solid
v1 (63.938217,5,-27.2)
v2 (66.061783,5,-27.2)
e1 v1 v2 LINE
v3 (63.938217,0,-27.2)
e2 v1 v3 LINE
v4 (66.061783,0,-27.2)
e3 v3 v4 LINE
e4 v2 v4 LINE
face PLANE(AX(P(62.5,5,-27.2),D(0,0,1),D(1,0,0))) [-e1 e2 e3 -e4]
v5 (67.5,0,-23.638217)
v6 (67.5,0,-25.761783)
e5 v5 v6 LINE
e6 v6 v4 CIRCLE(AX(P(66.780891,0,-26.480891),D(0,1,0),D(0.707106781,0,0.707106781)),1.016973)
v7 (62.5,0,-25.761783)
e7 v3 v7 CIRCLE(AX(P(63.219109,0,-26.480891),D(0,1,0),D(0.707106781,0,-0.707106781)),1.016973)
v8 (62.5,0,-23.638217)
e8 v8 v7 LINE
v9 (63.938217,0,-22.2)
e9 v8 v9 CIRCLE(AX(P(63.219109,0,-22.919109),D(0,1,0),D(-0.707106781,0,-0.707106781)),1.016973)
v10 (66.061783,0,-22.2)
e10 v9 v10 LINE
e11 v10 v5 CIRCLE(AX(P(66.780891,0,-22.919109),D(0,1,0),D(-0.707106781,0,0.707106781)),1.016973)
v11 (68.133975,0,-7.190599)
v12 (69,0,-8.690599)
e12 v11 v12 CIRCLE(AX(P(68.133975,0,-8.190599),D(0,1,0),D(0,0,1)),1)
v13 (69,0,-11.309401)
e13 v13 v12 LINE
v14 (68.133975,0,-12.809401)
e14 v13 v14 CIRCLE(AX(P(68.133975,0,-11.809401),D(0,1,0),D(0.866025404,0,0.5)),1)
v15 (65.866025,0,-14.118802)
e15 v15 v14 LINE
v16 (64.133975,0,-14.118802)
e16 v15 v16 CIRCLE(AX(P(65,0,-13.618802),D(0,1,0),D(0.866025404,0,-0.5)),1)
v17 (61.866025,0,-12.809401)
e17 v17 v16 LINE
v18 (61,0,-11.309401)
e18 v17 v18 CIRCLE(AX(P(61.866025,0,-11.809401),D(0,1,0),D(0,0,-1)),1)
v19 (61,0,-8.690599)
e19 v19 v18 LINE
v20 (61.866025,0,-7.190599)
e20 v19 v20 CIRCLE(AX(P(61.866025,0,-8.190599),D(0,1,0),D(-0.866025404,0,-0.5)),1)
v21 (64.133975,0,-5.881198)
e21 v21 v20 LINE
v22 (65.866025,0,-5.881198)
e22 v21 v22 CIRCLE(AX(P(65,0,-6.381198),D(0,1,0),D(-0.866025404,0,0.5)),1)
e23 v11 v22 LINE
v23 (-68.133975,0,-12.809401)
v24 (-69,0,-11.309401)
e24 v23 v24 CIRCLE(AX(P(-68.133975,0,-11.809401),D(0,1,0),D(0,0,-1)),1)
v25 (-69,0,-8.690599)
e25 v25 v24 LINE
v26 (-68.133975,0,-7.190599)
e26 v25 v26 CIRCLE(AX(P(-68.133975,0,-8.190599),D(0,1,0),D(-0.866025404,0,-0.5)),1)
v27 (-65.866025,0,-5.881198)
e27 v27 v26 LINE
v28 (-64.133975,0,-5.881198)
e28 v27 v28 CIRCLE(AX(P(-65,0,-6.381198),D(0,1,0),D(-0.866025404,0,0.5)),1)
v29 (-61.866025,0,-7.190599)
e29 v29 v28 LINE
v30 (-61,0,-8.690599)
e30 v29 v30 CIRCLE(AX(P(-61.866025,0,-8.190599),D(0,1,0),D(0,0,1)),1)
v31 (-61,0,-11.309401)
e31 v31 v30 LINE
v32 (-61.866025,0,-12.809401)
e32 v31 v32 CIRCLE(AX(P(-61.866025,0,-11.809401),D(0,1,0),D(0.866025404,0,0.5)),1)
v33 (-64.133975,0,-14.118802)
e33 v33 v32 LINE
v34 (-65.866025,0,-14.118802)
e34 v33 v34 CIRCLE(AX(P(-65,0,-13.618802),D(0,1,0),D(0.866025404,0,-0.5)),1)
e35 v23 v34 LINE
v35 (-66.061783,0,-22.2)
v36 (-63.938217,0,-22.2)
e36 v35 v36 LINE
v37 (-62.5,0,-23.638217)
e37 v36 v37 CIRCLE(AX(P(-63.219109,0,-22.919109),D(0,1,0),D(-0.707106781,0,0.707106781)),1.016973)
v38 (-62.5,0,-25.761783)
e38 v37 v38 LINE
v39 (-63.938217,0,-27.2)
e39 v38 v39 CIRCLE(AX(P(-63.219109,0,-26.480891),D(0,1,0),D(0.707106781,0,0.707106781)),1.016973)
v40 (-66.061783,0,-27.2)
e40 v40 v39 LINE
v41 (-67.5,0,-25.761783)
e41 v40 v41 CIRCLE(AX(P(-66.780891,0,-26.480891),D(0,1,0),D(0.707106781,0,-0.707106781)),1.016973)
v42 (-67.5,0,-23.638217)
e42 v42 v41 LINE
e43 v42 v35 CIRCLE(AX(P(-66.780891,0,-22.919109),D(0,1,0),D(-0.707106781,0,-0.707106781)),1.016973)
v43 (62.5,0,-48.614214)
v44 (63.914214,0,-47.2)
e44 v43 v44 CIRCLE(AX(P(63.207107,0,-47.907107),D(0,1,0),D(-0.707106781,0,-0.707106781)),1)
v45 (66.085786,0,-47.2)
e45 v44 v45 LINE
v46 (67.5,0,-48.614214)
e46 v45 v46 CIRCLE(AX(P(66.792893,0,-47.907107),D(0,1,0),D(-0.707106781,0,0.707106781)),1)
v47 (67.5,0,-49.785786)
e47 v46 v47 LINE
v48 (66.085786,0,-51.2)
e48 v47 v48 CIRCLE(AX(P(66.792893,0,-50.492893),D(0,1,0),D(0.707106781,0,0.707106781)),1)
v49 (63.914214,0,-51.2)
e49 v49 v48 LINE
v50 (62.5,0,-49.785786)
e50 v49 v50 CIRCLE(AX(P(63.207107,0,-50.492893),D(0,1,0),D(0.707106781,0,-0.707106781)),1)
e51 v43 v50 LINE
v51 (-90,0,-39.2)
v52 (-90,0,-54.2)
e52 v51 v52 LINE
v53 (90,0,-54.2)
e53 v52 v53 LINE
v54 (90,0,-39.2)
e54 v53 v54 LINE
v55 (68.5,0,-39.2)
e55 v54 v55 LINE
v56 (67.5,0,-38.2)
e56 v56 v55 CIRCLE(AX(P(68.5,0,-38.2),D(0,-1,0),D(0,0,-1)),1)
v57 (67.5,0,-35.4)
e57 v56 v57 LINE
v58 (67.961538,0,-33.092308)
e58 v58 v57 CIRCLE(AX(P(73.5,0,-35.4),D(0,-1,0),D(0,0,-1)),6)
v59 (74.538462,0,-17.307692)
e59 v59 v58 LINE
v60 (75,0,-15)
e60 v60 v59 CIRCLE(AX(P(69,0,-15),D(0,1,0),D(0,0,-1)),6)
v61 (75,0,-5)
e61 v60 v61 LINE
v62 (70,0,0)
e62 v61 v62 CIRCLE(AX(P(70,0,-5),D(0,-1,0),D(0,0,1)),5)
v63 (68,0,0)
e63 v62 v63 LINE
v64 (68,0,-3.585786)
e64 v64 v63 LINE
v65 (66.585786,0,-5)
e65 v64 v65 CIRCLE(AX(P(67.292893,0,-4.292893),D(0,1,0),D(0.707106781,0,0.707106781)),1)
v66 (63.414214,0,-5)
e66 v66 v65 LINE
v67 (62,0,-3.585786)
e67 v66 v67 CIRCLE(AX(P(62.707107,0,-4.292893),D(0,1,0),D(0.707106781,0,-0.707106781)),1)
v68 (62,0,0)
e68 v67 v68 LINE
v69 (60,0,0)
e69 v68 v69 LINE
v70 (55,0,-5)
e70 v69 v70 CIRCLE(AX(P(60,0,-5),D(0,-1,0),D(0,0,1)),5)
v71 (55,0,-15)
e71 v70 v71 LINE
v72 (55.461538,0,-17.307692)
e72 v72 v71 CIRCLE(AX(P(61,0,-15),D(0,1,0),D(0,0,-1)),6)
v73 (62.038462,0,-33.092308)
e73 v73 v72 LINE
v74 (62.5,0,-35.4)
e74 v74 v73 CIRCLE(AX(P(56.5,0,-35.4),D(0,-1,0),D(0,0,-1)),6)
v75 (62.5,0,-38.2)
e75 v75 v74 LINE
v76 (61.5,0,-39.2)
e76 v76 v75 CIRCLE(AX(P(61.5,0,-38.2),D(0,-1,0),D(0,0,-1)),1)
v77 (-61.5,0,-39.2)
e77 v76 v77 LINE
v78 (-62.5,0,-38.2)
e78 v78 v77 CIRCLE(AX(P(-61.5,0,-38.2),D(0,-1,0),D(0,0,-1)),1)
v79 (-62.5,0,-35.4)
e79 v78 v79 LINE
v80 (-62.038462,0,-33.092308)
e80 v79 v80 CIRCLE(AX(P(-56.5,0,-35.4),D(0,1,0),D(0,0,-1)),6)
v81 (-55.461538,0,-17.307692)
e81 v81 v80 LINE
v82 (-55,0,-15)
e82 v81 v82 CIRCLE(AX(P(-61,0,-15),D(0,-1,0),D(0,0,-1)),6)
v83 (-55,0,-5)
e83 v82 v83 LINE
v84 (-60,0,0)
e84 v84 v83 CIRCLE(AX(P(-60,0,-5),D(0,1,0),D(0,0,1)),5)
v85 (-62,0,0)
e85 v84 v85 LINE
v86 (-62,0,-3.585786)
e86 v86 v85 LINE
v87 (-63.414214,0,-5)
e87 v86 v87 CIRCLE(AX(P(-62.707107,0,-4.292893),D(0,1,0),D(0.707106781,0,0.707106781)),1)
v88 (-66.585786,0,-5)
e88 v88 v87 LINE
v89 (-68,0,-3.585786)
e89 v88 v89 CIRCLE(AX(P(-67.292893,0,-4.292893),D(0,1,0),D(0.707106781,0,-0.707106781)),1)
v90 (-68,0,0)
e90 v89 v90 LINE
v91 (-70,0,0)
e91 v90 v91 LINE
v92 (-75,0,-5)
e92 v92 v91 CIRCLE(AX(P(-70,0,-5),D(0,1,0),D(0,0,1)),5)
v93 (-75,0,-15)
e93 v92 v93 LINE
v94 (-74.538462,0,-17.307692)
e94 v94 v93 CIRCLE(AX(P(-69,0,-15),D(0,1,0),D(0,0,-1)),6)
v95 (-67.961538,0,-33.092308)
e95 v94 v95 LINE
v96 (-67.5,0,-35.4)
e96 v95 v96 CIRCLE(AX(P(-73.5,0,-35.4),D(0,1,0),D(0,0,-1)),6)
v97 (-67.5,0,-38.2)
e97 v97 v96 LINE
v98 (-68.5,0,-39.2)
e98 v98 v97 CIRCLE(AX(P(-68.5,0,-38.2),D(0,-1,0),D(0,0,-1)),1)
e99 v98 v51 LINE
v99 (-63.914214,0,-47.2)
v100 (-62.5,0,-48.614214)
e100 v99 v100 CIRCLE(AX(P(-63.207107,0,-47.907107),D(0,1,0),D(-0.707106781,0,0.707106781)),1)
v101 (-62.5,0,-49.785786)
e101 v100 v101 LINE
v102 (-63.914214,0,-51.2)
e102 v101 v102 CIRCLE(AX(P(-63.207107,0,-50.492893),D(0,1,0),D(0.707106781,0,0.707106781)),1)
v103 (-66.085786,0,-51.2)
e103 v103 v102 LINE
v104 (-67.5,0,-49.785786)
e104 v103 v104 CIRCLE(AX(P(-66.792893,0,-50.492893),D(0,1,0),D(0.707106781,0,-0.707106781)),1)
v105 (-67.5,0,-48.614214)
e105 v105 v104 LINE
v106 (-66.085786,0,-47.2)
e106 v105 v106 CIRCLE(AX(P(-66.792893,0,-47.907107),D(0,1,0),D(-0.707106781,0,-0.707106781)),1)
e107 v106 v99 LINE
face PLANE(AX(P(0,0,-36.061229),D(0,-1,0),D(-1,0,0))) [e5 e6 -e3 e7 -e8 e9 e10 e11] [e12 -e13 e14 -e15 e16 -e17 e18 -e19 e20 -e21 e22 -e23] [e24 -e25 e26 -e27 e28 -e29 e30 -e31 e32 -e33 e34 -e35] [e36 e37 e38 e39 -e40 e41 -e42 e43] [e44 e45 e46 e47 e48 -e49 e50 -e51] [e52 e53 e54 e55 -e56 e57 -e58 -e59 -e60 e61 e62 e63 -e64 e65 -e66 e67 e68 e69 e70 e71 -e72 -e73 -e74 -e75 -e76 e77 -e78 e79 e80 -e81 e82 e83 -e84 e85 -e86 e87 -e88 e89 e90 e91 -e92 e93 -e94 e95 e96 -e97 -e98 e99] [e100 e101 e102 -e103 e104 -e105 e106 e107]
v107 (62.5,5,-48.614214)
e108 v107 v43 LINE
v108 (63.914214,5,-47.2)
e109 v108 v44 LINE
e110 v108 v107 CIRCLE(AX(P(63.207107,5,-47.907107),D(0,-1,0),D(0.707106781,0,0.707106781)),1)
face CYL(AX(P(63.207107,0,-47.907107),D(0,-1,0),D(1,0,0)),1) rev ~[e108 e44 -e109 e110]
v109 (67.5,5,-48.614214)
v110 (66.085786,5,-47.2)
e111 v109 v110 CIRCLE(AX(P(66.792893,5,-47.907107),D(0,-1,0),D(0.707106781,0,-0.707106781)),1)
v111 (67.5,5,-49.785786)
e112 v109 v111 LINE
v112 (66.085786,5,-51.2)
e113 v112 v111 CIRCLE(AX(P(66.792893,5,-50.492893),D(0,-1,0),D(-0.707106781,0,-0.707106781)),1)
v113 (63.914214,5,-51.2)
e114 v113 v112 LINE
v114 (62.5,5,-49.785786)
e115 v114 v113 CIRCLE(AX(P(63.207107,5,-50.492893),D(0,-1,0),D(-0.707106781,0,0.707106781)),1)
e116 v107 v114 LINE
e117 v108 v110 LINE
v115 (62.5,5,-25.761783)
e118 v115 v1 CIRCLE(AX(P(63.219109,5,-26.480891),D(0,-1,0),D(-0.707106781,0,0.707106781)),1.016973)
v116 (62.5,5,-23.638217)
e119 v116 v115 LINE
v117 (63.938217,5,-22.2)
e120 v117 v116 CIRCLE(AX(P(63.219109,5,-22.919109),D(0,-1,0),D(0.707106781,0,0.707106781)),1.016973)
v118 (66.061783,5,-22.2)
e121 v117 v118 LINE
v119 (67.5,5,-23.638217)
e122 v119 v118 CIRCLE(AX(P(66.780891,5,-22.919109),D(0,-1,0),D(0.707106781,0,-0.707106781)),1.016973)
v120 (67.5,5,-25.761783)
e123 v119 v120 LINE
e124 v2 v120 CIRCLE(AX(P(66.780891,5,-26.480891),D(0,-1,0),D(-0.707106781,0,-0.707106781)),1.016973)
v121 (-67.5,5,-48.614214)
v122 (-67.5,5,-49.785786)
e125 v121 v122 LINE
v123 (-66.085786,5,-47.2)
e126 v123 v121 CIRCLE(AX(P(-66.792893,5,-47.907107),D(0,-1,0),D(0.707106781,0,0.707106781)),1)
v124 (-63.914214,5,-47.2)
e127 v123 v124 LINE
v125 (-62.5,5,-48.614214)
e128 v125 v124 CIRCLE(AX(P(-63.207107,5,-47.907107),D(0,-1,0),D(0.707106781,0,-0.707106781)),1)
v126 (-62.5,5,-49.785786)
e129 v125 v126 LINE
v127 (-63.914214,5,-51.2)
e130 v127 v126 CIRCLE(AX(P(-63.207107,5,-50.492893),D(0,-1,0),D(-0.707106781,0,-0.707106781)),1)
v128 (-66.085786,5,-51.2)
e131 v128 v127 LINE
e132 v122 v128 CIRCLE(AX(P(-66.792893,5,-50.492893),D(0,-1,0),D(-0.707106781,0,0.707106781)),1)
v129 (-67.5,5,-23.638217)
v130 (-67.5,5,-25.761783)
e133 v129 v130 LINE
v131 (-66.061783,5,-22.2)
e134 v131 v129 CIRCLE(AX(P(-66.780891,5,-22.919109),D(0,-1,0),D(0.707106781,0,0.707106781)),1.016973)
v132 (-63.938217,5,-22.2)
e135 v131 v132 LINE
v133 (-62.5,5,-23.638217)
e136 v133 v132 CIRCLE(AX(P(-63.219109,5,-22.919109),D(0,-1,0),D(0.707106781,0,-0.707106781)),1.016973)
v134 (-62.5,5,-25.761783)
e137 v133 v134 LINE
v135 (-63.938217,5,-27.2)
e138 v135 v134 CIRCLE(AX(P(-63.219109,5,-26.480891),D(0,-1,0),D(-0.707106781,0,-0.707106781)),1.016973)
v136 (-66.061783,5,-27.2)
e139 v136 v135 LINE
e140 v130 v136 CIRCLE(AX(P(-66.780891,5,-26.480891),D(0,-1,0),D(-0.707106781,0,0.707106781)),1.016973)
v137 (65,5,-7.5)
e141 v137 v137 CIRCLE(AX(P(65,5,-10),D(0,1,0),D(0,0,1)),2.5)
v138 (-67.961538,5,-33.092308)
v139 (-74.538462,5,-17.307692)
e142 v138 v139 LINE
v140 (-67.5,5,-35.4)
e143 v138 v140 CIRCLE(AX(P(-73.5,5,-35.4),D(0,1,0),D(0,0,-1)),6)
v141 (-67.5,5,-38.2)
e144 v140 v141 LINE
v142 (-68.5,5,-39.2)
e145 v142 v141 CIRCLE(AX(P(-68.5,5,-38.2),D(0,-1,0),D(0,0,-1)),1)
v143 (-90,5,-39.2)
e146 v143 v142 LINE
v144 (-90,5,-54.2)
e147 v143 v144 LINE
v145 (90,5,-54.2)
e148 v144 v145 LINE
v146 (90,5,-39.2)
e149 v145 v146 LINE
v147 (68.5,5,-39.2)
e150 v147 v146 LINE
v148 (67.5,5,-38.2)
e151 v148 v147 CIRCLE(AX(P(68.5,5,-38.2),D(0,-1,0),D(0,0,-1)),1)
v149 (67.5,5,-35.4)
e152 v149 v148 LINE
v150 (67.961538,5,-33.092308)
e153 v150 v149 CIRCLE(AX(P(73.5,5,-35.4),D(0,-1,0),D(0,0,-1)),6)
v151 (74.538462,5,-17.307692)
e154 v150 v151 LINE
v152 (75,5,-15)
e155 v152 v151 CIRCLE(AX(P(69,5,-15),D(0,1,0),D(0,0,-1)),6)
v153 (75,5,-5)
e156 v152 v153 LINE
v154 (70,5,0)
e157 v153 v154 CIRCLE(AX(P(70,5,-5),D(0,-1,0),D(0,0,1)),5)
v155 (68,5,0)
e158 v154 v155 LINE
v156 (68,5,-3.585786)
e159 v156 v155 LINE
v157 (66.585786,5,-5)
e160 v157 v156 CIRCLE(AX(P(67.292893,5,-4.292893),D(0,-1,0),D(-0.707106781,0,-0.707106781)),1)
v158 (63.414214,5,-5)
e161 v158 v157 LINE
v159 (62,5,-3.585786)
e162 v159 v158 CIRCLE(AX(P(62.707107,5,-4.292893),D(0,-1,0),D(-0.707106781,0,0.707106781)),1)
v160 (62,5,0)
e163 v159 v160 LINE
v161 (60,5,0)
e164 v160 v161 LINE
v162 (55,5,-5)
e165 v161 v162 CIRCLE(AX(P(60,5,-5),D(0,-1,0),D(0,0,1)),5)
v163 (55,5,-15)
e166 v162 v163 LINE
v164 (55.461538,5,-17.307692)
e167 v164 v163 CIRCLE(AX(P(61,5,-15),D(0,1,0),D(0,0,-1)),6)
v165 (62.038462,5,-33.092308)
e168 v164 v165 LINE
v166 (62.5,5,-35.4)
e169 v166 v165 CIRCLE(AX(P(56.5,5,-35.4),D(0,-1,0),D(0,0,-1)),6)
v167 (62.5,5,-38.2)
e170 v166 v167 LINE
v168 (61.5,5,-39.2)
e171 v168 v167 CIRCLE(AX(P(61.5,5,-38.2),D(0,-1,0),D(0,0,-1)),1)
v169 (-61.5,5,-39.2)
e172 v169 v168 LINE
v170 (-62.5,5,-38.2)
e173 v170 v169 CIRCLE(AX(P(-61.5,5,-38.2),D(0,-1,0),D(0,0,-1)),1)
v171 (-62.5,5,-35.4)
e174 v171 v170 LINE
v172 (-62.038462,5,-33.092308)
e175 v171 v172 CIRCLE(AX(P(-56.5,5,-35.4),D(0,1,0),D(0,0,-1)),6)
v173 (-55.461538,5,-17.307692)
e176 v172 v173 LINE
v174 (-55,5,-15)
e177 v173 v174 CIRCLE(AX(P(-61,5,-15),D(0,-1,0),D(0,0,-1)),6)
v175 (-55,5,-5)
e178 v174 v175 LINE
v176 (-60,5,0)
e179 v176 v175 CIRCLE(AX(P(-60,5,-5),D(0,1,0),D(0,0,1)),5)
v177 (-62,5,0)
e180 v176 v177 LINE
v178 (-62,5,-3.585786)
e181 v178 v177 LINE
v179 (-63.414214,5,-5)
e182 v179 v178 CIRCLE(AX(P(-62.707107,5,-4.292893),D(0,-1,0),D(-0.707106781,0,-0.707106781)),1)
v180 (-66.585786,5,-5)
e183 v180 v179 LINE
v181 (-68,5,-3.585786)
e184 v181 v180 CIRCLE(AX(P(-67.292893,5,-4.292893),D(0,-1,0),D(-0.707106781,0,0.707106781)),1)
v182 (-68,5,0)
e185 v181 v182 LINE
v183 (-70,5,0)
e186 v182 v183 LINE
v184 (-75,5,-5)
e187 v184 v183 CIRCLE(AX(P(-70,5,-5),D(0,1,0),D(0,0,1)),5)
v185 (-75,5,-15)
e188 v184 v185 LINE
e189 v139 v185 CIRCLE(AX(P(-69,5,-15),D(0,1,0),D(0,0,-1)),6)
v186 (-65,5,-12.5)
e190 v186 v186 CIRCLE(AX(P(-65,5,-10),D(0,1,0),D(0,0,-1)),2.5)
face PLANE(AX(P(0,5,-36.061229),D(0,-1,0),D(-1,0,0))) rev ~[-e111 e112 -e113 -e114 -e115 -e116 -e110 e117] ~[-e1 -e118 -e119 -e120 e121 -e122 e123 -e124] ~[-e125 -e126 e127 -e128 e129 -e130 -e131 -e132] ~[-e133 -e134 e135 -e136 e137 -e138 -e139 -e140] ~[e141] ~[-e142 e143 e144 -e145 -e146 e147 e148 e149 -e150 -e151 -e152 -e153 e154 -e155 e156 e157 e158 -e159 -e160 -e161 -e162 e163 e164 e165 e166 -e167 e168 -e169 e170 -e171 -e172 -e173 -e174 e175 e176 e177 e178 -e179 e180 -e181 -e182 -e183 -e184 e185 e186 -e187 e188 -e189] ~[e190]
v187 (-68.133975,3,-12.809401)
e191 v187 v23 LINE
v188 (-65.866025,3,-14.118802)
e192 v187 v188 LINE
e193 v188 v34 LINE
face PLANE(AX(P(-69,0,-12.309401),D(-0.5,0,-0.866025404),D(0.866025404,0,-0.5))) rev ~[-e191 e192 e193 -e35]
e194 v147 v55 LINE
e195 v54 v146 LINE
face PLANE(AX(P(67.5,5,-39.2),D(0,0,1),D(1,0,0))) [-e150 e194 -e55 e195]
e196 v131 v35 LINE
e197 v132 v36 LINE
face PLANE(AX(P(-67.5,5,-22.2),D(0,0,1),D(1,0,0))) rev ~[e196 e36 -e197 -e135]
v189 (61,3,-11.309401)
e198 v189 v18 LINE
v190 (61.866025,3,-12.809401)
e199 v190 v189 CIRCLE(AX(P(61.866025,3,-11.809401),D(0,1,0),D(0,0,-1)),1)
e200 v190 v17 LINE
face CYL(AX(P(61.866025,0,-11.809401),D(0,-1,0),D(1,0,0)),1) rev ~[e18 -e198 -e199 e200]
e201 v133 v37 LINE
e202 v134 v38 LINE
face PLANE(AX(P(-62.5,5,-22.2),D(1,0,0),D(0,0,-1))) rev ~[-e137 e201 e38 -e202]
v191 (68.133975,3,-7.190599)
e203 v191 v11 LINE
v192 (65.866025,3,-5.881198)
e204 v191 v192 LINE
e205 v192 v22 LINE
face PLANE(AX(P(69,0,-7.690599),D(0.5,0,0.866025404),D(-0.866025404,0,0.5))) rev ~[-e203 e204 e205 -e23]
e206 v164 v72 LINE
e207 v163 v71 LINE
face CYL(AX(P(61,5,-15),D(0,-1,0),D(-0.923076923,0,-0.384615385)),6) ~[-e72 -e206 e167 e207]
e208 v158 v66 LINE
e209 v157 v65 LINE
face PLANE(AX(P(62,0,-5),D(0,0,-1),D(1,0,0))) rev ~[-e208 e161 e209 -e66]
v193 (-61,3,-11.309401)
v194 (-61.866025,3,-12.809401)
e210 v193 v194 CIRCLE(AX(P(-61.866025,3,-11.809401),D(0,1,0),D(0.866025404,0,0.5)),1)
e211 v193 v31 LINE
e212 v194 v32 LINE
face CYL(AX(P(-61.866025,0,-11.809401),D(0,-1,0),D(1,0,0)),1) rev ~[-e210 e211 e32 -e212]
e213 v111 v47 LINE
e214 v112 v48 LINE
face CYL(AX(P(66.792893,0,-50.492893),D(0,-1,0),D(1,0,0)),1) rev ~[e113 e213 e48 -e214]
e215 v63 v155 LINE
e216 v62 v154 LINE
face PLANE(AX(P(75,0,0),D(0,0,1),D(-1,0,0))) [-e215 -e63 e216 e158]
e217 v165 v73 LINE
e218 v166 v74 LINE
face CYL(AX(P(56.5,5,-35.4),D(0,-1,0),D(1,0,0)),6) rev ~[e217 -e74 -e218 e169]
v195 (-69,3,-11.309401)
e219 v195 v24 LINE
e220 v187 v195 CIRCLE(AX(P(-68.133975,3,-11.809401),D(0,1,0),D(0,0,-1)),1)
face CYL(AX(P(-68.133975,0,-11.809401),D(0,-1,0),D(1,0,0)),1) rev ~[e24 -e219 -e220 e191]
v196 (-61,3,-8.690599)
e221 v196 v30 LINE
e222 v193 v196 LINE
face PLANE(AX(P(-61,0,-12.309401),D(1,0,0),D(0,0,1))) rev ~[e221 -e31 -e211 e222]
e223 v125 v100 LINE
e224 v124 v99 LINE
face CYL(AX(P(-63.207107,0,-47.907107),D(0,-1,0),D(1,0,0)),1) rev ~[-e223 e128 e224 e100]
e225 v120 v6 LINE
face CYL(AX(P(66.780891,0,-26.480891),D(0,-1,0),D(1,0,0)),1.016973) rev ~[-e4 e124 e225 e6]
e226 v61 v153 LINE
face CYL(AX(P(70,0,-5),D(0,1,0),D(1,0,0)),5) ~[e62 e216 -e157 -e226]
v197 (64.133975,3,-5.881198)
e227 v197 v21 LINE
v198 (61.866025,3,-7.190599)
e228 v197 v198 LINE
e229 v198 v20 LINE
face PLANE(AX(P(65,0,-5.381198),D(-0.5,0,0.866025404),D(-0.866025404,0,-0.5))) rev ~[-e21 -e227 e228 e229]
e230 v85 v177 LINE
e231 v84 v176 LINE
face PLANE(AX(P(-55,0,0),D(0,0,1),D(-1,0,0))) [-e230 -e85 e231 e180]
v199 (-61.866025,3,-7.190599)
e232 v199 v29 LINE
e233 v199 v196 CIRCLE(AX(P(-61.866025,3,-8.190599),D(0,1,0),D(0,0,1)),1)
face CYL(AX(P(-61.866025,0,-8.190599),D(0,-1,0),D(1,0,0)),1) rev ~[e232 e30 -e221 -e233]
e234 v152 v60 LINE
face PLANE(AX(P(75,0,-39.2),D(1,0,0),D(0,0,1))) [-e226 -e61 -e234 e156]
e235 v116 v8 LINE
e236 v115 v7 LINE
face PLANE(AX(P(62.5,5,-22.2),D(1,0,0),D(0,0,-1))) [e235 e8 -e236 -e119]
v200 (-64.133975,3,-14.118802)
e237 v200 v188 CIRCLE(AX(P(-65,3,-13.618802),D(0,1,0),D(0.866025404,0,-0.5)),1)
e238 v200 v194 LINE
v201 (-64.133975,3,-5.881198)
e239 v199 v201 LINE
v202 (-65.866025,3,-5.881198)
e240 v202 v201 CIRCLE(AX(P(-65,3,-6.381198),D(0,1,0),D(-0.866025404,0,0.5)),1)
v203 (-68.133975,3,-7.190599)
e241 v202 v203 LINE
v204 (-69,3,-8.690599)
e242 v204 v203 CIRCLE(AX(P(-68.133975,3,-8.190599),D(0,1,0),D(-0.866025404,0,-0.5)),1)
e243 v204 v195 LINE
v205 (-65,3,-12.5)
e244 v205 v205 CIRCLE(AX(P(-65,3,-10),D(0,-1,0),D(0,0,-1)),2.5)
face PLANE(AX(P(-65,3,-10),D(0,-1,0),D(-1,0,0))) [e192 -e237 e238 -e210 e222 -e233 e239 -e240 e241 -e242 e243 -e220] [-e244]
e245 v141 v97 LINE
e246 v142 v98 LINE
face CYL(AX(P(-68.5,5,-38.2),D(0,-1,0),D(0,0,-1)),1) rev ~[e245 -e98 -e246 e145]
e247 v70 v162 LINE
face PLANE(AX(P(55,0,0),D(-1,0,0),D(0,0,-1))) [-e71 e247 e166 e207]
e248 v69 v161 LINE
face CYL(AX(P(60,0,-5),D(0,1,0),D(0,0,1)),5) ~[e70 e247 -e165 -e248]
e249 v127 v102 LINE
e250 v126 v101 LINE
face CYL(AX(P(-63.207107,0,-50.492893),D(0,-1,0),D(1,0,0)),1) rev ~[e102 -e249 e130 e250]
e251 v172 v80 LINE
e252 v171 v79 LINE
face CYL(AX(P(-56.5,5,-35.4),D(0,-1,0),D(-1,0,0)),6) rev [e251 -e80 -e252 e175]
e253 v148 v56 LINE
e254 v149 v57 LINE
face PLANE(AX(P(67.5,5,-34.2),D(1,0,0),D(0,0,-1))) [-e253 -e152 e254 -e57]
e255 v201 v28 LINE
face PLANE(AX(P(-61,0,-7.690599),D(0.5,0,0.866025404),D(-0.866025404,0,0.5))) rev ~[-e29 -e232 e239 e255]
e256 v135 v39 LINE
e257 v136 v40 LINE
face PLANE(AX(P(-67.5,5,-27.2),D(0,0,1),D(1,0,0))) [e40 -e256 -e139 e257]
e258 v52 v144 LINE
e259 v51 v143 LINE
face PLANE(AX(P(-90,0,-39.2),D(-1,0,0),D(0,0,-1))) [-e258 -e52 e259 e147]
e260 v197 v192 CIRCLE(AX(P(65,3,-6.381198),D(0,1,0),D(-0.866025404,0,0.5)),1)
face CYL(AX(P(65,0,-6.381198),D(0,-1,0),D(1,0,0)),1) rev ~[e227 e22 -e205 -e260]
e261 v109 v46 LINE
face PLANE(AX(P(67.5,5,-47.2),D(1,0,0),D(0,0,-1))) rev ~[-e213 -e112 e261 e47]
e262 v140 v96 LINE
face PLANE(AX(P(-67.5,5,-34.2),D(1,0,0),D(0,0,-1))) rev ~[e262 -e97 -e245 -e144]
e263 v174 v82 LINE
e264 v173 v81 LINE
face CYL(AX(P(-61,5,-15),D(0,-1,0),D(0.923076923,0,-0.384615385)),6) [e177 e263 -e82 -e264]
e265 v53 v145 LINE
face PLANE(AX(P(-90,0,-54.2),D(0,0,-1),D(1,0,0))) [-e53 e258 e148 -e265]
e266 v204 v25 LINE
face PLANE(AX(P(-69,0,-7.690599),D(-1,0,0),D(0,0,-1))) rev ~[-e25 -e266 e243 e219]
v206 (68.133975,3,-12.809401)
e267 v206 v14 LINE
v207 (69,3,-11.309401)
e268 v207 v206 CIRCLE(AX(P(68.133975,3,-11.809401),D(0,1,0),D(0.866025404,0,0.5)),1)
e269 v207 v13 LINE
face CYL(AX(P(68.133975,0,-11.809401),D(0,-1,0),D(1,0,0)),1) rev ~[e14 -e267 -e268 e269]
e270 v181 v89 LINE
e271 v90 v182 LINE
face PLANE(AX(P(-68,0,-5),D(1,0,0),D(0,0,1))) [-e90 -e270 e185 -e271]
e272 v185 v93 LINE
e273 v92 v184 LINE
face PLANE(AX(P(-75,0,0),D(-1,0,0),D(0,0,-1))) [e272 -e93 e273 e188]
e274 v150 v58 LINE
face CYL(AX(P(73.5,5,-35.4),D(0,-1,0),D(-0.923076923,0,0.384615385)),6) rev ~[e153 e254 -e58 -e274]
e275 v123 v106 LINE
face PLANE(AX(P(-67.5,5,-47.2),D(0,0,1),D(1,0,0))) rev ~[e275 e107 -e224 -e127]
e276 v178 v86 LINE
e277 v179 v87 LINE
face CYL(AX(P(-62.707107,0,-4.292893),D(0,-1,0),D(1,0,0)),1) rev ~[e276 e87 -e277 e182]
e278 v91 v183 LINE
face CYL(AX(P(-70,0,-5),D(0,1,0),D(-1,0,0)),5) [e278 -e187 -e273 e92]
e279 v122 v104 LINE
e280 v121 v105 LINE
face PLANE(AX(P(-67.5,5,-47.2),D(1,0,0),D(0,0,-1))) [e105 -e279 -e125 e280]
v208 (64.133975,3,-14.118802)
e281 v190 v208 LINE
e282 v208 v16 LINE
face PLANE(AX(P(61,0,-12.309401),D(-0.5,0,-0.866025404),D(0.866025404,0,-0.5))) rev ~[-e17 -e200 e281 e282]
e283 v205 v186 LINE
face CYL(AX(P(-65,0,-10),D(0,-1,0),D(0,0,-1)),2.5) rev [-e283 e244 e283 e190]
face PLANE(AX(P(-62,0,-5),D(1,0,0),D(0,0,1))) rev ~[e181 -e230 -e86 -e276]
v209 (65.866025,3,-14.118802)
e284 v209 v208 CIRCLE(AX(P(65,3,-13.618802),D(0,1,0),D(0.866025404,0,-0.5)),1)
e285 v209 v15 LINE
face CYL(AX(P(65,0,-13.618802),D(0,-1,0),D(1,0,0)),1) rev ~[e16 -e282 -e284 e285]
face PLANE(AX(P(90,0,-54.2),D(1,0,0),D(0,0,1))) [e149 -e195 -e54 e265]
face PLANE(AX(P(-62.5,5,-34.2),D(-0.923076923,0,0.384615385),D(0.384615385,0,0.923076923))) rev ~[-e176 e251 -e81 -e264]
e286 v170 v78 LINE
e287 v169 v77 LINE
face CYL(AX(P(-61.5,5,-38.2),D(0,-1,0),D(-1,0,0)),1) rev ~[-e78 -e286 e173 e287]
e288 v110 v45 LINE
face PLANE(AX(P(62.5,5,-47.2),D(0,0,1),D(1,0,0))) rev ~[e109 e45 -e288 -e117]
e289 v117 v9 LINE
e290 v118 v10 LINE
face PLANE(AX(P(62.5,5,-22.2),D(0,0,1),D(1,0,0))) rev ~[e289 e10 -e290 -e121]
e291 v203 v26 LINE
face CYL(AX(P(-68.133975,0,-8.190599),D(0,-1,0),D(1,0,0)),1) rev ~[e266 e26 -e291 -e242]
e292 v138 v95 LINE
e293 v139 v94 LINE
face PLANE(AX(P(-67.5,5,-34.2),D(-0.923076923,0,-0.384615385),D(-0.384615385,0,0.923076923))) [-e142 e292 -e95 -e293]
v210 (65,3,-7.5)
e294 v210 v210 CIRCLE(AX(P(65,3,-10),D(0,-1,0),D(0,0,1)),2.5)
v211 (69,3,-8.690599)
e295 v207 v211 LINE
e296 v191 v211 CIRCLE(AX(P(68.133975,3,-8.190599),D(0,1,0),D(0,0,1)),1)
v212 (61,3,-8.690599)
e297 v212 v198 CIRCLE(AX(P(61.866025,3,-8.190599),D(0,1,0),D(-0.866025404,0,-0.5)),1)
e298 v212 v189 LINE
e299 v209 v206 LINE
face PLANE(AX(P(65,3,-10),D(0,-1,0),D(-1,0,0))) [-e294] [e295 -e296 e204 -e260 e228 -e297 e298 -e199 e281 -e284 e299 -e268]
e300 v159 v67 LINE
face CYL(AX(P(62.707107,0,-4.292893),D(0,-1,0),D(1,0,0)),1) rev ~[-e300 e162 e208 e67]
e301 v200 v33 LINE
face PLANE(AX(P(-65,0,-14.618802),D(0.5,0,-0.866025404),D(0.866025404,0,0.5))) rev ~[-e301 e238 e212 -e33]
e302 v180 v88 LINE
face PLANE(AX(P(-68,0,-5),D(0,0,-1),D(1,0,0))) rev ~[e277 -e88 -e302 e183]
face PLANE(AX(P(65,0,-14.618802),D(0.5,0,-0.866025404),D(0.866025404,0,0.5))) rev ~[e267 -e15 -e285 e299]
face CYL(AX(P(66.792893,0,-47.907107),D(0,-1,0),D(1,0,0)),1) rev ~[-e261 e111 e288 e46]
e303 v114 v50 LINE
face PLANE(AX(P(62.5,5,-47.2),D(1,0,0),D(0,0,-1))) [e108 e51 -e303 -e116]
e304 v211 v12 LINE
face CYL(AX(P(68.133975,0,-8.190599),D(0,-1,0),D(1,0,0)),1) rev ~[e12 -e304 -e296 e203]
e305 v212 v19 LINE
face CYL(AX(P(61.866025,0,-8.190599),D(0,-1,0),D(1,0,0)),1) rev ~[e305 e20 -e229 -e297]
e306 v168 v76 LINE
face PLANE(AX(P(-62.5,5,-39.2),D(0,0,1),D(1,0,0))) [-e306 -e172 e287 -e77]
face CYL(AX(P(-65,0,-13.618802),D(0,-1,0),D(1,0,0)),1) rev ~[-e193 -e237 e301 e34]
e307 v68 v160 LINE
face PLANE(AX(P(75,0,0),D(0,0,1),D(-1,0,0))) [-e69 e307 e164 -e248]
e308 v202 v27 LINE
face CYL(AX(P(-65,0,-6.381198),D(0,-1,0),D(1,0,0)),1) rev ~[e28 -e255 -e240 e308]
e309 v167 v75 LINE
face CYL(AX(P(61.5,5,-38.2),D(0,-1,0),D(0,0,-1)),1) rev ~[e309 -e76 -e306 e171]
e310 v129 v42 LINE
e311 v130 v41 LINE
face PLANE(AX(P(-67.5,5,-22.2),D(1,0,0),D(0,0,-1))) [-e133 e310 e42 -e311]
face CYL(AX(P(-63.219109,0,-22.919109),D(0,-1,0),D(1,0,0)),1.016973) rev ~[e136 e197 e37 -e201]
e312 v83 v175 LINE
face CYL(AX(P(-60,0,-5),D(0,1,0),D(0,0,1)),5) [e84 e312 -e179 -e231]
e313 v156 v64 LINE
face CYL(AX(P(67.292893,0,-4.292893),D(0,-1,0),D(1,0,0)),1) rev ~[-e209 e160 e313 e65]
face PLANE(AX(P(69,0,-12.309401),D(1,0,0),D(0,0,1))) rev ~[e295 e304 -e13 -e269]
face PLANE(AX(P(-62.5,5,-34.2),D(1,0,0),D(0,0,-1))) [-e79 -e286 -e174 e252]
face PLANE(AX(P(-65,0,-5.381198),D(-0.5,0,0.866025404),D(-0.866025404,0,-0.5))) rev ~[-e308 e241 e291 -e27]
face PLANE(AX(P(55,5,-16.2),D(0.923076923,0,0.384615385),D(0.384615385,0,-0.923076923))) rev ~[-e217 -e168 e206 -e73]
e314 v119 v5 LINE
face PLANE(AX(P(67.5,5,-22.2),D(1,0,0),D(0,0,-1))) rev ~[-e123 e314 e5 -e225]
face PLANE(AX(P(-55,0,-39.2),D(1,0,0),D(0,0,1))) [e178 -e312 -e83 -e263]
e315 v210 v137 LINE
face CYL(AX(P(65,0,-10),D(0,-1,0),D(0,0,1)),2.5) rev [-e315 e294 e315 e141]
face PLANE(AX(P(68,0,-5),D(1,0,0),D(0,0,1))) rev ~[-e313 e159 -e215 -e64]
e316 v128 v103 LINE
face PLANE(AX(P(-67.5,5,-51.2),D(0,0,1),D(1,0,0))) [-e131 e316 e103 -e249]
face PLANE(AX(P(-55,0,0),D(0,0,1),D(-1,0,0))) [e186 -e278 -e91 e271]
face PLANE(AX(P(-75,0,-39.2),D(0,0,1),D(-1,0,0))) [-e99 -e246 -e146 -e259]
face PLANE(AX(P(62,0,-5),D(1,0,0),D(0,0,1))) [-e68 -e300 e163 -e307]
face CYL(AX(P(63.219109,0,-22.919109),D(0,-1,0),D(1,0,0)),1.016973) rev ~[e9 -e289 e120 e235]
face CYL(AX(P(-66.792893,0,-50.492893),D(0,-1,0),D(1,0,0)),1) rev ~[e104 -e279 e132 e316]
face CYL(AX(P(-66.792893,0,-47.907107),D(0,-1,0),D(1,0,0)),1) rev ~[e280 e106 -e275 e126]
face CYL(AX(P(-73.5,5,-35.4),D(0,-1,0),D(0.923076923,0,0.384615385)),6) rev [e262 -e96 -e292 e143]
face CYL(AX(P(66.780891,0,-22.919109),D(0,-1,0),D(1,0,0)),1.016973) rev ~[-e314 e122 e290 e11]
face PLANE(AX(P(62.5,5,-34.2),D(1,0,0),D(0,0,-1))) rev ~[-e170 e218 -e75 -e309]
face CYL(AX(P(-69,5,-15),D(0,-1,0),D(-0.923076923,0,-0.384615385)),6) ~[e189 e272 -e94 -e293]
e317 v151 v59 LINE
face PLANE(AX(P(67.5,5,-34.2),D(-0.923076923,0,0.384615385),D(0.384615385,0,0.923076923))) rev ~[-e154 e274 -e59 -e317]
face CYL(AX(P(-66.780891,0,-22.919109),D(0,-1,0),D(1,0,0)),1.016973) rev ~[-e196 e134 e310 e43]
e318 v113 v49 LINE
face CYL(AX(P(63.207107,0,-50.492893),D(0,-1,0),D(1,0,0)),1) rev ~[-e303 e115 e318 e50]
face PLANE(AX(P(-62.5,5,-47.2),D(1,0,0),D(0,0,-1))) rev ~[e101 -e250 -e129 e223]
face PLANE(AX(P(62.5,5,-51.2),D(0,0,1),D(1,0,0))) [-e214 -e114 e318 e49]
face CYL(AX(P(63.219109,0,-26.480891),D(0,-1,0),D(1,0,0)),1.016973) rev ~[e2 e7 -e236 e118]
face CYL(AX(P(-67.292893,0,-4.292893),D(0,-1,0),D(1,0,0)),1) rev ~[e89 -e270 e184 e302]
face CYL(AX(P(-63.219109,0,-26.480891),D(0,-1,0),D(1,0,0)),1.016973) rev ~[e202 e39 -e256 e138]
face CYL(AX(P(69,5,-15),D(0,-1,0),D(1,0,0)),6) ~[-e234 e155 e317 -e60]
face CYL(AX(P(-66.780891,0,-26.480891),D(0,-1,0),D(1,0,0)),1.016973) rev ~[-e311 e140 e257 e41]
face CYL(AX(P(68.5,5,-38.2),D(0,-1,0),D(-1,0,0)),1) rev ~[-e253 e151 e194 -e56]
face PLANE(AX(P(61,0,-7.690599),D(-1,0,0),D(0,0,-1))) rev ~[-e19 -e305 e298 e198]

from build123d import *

# Parameters (mm, degrees)
SKETCH_1_R           = 2.5
EXTRUDE_1_DEPTH      = 5
FILLET_1_R           = 5
SKETCH_6_W           = 6
SKETCH_6_H           = 5
CUT_EXTRUDE_5_DEPTH  = 10
SKETCH_7_R           = 1
CUT_EXTRUDE_6_DEPTH  = 10
SKETCH_8_W           = 7.5
SKETCH_8_H           = 5
CUT_EXTRUDE_7_DEPTH  = 10
FILLET_2_R           = 1
CUT_EXTRUDE_9_DEPTH  = 10
FILLET_3_R           = 6
SKETCH_12_W          = 5
SKETCH_12_H          = 4
SKETCH_12_H_2        = 5
CUT_EXTRUDE_10_DEPTH = 5
CUT_EXTRUDE_12_DEPTH = 3
SKETCH_15_R          = 1
CUT_EXTRUDE_13_DEPTH = 3
SKETCH_16_R          = 1
SKETCH_16_R_2        = 1.016973241
CUT_EXTRUDE_14_DEPTH = 10


with BuildPart() as part:
    # 스케치1 → 보스-돌출1 (new body)
    with BuildSketch(Plane(origin=(0, 0, 0), x_dir=(1, 0, 0), z_dir=(0, 1, 0))):
        Polygon((-90, 54.2), (90, 54.2), (90, 39.2), (75, 39.2), (75, 0), (55, 0), (55, 39.2), (-55, 39.2), (-55, 0), (-75, 0), (-75, 39.2), (-90, 39.2), align=None)
        with Locations(Location((65, 10, 0), (0, 0, 270))):
            Circle(SKETCH_1_R, mode=Mode.SUBTRACT)
        with Locations(Location((-65, 10, 0), (0, 0, 90))):
            Circle(SKETCH_1_R, mode=Mode.SUBTRACT)
    extrude(amount=EXTRUDE_1_DEPTH)

    # 필렛1
    fillet_1_edges = [part.edges().sort_by_distance(p)[0] for p in [
        (75, 2.5, 0),
        (55, 2.5, 0),
        (-55, 2.5, 0),
        (-75, 2.5, 0),
    ]]
    fillet(fillet_1_edges, radius=FILLET_1_R)

    # 스케치6 → 컷-돌출5 (cut)
    with BuildSketch(Plane.XZ):
        with Locations((65, -2.5)):
            Rectangle(SKETCH_6_W, SKETCH_6_H)
        with Locations((-65, -2.5)):
            Rectangle(SKETCH_6_W, SKETCH_6_H)
    extrude(amount=-CUT_EXTRUDE_5_DEPTH, mode=Mode.SUBTRACT)

    # 스케치7 → 컷-돌출6 (cut)
    with BuildSketch(Plane.XZ):
        with Locations((62.707106781, -4.292893219)):
            Circle(SKETCH_7_R)
        with Locations((67.292893219, -4.292893219)):
            Circle(SKETCH_7_R)
        with Locations((-67.292893219, -4.292893219)):
            Circle(SKETCH_7_R)
        with Locations((-62.707106781, -4.292893219)):
            Circle(SKETCH_7_R)
    extrude(amount=-CUT_EXTRUDE_6_DEPTH, mode=Mode.SUBTRACT)

    # 스케치8 → 컷-돌출7 (cut)
    with BuildSketch(Plane(origin=(0, 5, 0), x_dir=(1, 0, 0), z_dir=(0, 1, 0))):
        with Locations((71.25, 36.7)):
            Rectangle(SKETCH_8_W, SKETCH_8_H)
        with Locations((58.75, 36.7)):
            Rectangle(SKETCH_8_W, SKETCH_8_H)
        with Locations((-58.75, 36.7)):
            Rectangle(SKETCH_8_W, SKETCH_8_H)
        with Locations((-71.25, 36.7)):
            Rectangle(SKETCH_8_W, SKETCH_8_H)
    extrude(amount=-CUT_EXTRUDE_7_DEPTH, mode=Mode.SUBTRACT)

    # 필렛2
    fillet_2_edges = [part.edges().sort_by_distance(p)[0] for p in [
        (67.5, 2.5, -39.2),
        (62.5, 2.5, -39.2),
        (-62.5, 2.5, -39.2),
        (-67.5, 2.5, -39.2),
    ]]
    fillet(fillet_2_edges, radius=FILLET_2_R)

    # 스케치10 → 컷-돌출9 (cut)
    with BuildSketch(Plane(origin=(0, 5, 0), x_dir=(1, 0, 0), z_dir=(0, 1, 0))):
        Polygon((75, 34.2), (67.5, 34.2), (75, 16.2), align=None)
        Polygon((62.5, 34.2), (55, 34.2), (55, 16.2), align=None)
        Polygon((-75, 16.2), (-75, 34.2), (-67.5, 34.2), align=None)
        Polygon((-55, 16.2), (-55, 34.2), (-62.5, 34.2), align=None)
    extrude(amount=-CUT_EXTRUDE_9_DEPTH, mode=Mode.SUBTRACT)

    # 필렛3
    fillet_3_edges = [part.edges().sort_by_distance(p)[0] for p in [
        (67.5, 2.5, -34.2),
        (62.5, 2.5, -34.2),
        (-62.5, 2.5, -34.2),
        (-67.5, 2.5, -34.2),
        (75, 2.5, -16.2),
        (55, 2.5, -16.2),
        (-75, 2.5, -16.2),
        (-55, 2.5, -16.2),
    ]]
    fillet(fillet_3_edges, radius=FILLET_3_R)

    # 스케치12 → 컷-돌출10 (cut)
    with BuildSketch(Plane(origin=(0, 5, 0), x_dir=(1, 0, 0), z_dir=(0, 1, 0))):
        with Locations((65, 49.2)):
            Rectangle(SKETCH_12_W, SKETCH_12_H)
        with Locations((65, 24.7)):
            Rectangle(SKETCH_12_W, SKETCH_12_H_2)
        with Locations((-65, 24.7)):
            Rectangle(SKETCH_12_W, SKETCH_12_H_2)
        with Locations((-65, 49.2)):
            Rectangle(SKETCH_12_W, SKETCH_12_H)
    extrude(amount=-CUT_EXTRUDE_10_DEPTH, mode=Mode.SUBTRACT)

    # 스케치14 → 컷-돌출12 (cut)
    with BuildSketch(Plane(origin=(0, 0, 0), x_dir=(-1, 0, 0), z_dir=(0, -1, 0))):
        Polygon((-65, 14.618802154), (-69, 12.309401077), (-69, 7.690598923), (-65, 5.381197846), (-61, 7.690598923), (-61, 12.309401077), align=None)
        Polygon((65, 14.618802154), (61, 12.309401077), (61, 7.690598923), (65, 5.381197846), (69, 7.690598923), (69, 12.309401077), align=None)
    extrude(amount=-CUT_EXTRUDE_12_DEPTH, mode=Mode.SUBTRACT)

    # 스케치15 → 컷-돌출13 (cut)
    with BuildSketch(Plane.XZ):
        with Locations((65, -13.618802154)):
            Circle(SKETCH_15_R)
        with Locations((61.866025404, -11.809401077)):
            Circle(SKETCH_15_R)
        with Locations((61.866025404, -8.190598923)):
            Circle(SKETCH_15_R)
        with Locations((65, -6.381197846)):
            Circle(SKETCH_15_R)
        with Locations((68.133974596, -8.190598923)):
            Circle(SKETCH_15_R)
        with Locations((68.133974596, -11.809401077)):
            Circle(SKETCH_15_R)
        with Locations((-68.133974596, -11.809401077)):
            Circle(SKETCH_15_R)
        with Locations((-68.133974596, -8.190598923)):
            Circle(SKETCH_15_R)
        with Locations((-65, -6.381197846)):
            Circle(SKETCH_15_R)
        with Locations((-61.866025404, -8.190598923)):
            Circle(SKETCH_15_R)
        with Locations((-61.866025404, -11.809401077)):
            Circle(SKETCH_15_R)
        with Locations((-65, -13.618802154)):
            Circle(SKETCH_15_R)
    extrude(amount=-CUT_EXTRUDE_13_DEPTH, mode=Mode.SUBTRACT)

    # 스케치16 → 컷-돌출14 (cut)
    with BuildSketch(Plane.XZ):
        with Locations((66.792893219, -47.907106781)):
            Circle(SKETCH_16_R)
        with Locations((66.792893219, -50.492893219)):
            Circle(SKETCH_16_R)
        with Locations((63.207106781, -50.492893219)):
            Circle(SKETCH_16_R)
        with Locations((63.207106781, -47.907106781)):
            Circle(SKETCH_16_R)
        with Locations((66.780891325, -22.919108675)):
            Circle(SKETCH_16_R_2)
        with Locations((63.219108675, -22.919108675)):
            Circle(SKETCH_16_R_2)
        with Locations((63.219108675, -26.480891325)):
            Circle(SKETCH_16_R_2)
        with Locations((66.780891325, -26.480891325)):
            Circle(SKETCH_16_R_2)
        with Locations((-66.780891325, -26.480891325)):
            Circle(SKETCH_16_R_2)
        with Locations((-63.219108675, -26.480891325)):
            Circle(SKETCH_16_R_2)
        with Locations((-63.219108675, -22.919108675)):
            Circle(SKETCH_16_R_2)
        with Locations((-66.780891325, -22.919108675)):
            Circle(SKETCH_16_R_2)
        with Locations((-63.207106781, -47.907106781)):
            Circle(SKETCH_16_R)
        with Locations((-63.207106781, -50.492893219)):
            Circle(SKETCH_16_R)
        with Locations((-66.792893219, -50.492893219)):
            Circle(SKETCH_16_R)
        with Locations((-66.792893219, -47.907106781)):
            Circle(SKETCH_16_R)
    extrude(amount=-CUT_EXTRUDE_14_DEPTH, mode=Mode.SUBTRACT)


solid = part.part
